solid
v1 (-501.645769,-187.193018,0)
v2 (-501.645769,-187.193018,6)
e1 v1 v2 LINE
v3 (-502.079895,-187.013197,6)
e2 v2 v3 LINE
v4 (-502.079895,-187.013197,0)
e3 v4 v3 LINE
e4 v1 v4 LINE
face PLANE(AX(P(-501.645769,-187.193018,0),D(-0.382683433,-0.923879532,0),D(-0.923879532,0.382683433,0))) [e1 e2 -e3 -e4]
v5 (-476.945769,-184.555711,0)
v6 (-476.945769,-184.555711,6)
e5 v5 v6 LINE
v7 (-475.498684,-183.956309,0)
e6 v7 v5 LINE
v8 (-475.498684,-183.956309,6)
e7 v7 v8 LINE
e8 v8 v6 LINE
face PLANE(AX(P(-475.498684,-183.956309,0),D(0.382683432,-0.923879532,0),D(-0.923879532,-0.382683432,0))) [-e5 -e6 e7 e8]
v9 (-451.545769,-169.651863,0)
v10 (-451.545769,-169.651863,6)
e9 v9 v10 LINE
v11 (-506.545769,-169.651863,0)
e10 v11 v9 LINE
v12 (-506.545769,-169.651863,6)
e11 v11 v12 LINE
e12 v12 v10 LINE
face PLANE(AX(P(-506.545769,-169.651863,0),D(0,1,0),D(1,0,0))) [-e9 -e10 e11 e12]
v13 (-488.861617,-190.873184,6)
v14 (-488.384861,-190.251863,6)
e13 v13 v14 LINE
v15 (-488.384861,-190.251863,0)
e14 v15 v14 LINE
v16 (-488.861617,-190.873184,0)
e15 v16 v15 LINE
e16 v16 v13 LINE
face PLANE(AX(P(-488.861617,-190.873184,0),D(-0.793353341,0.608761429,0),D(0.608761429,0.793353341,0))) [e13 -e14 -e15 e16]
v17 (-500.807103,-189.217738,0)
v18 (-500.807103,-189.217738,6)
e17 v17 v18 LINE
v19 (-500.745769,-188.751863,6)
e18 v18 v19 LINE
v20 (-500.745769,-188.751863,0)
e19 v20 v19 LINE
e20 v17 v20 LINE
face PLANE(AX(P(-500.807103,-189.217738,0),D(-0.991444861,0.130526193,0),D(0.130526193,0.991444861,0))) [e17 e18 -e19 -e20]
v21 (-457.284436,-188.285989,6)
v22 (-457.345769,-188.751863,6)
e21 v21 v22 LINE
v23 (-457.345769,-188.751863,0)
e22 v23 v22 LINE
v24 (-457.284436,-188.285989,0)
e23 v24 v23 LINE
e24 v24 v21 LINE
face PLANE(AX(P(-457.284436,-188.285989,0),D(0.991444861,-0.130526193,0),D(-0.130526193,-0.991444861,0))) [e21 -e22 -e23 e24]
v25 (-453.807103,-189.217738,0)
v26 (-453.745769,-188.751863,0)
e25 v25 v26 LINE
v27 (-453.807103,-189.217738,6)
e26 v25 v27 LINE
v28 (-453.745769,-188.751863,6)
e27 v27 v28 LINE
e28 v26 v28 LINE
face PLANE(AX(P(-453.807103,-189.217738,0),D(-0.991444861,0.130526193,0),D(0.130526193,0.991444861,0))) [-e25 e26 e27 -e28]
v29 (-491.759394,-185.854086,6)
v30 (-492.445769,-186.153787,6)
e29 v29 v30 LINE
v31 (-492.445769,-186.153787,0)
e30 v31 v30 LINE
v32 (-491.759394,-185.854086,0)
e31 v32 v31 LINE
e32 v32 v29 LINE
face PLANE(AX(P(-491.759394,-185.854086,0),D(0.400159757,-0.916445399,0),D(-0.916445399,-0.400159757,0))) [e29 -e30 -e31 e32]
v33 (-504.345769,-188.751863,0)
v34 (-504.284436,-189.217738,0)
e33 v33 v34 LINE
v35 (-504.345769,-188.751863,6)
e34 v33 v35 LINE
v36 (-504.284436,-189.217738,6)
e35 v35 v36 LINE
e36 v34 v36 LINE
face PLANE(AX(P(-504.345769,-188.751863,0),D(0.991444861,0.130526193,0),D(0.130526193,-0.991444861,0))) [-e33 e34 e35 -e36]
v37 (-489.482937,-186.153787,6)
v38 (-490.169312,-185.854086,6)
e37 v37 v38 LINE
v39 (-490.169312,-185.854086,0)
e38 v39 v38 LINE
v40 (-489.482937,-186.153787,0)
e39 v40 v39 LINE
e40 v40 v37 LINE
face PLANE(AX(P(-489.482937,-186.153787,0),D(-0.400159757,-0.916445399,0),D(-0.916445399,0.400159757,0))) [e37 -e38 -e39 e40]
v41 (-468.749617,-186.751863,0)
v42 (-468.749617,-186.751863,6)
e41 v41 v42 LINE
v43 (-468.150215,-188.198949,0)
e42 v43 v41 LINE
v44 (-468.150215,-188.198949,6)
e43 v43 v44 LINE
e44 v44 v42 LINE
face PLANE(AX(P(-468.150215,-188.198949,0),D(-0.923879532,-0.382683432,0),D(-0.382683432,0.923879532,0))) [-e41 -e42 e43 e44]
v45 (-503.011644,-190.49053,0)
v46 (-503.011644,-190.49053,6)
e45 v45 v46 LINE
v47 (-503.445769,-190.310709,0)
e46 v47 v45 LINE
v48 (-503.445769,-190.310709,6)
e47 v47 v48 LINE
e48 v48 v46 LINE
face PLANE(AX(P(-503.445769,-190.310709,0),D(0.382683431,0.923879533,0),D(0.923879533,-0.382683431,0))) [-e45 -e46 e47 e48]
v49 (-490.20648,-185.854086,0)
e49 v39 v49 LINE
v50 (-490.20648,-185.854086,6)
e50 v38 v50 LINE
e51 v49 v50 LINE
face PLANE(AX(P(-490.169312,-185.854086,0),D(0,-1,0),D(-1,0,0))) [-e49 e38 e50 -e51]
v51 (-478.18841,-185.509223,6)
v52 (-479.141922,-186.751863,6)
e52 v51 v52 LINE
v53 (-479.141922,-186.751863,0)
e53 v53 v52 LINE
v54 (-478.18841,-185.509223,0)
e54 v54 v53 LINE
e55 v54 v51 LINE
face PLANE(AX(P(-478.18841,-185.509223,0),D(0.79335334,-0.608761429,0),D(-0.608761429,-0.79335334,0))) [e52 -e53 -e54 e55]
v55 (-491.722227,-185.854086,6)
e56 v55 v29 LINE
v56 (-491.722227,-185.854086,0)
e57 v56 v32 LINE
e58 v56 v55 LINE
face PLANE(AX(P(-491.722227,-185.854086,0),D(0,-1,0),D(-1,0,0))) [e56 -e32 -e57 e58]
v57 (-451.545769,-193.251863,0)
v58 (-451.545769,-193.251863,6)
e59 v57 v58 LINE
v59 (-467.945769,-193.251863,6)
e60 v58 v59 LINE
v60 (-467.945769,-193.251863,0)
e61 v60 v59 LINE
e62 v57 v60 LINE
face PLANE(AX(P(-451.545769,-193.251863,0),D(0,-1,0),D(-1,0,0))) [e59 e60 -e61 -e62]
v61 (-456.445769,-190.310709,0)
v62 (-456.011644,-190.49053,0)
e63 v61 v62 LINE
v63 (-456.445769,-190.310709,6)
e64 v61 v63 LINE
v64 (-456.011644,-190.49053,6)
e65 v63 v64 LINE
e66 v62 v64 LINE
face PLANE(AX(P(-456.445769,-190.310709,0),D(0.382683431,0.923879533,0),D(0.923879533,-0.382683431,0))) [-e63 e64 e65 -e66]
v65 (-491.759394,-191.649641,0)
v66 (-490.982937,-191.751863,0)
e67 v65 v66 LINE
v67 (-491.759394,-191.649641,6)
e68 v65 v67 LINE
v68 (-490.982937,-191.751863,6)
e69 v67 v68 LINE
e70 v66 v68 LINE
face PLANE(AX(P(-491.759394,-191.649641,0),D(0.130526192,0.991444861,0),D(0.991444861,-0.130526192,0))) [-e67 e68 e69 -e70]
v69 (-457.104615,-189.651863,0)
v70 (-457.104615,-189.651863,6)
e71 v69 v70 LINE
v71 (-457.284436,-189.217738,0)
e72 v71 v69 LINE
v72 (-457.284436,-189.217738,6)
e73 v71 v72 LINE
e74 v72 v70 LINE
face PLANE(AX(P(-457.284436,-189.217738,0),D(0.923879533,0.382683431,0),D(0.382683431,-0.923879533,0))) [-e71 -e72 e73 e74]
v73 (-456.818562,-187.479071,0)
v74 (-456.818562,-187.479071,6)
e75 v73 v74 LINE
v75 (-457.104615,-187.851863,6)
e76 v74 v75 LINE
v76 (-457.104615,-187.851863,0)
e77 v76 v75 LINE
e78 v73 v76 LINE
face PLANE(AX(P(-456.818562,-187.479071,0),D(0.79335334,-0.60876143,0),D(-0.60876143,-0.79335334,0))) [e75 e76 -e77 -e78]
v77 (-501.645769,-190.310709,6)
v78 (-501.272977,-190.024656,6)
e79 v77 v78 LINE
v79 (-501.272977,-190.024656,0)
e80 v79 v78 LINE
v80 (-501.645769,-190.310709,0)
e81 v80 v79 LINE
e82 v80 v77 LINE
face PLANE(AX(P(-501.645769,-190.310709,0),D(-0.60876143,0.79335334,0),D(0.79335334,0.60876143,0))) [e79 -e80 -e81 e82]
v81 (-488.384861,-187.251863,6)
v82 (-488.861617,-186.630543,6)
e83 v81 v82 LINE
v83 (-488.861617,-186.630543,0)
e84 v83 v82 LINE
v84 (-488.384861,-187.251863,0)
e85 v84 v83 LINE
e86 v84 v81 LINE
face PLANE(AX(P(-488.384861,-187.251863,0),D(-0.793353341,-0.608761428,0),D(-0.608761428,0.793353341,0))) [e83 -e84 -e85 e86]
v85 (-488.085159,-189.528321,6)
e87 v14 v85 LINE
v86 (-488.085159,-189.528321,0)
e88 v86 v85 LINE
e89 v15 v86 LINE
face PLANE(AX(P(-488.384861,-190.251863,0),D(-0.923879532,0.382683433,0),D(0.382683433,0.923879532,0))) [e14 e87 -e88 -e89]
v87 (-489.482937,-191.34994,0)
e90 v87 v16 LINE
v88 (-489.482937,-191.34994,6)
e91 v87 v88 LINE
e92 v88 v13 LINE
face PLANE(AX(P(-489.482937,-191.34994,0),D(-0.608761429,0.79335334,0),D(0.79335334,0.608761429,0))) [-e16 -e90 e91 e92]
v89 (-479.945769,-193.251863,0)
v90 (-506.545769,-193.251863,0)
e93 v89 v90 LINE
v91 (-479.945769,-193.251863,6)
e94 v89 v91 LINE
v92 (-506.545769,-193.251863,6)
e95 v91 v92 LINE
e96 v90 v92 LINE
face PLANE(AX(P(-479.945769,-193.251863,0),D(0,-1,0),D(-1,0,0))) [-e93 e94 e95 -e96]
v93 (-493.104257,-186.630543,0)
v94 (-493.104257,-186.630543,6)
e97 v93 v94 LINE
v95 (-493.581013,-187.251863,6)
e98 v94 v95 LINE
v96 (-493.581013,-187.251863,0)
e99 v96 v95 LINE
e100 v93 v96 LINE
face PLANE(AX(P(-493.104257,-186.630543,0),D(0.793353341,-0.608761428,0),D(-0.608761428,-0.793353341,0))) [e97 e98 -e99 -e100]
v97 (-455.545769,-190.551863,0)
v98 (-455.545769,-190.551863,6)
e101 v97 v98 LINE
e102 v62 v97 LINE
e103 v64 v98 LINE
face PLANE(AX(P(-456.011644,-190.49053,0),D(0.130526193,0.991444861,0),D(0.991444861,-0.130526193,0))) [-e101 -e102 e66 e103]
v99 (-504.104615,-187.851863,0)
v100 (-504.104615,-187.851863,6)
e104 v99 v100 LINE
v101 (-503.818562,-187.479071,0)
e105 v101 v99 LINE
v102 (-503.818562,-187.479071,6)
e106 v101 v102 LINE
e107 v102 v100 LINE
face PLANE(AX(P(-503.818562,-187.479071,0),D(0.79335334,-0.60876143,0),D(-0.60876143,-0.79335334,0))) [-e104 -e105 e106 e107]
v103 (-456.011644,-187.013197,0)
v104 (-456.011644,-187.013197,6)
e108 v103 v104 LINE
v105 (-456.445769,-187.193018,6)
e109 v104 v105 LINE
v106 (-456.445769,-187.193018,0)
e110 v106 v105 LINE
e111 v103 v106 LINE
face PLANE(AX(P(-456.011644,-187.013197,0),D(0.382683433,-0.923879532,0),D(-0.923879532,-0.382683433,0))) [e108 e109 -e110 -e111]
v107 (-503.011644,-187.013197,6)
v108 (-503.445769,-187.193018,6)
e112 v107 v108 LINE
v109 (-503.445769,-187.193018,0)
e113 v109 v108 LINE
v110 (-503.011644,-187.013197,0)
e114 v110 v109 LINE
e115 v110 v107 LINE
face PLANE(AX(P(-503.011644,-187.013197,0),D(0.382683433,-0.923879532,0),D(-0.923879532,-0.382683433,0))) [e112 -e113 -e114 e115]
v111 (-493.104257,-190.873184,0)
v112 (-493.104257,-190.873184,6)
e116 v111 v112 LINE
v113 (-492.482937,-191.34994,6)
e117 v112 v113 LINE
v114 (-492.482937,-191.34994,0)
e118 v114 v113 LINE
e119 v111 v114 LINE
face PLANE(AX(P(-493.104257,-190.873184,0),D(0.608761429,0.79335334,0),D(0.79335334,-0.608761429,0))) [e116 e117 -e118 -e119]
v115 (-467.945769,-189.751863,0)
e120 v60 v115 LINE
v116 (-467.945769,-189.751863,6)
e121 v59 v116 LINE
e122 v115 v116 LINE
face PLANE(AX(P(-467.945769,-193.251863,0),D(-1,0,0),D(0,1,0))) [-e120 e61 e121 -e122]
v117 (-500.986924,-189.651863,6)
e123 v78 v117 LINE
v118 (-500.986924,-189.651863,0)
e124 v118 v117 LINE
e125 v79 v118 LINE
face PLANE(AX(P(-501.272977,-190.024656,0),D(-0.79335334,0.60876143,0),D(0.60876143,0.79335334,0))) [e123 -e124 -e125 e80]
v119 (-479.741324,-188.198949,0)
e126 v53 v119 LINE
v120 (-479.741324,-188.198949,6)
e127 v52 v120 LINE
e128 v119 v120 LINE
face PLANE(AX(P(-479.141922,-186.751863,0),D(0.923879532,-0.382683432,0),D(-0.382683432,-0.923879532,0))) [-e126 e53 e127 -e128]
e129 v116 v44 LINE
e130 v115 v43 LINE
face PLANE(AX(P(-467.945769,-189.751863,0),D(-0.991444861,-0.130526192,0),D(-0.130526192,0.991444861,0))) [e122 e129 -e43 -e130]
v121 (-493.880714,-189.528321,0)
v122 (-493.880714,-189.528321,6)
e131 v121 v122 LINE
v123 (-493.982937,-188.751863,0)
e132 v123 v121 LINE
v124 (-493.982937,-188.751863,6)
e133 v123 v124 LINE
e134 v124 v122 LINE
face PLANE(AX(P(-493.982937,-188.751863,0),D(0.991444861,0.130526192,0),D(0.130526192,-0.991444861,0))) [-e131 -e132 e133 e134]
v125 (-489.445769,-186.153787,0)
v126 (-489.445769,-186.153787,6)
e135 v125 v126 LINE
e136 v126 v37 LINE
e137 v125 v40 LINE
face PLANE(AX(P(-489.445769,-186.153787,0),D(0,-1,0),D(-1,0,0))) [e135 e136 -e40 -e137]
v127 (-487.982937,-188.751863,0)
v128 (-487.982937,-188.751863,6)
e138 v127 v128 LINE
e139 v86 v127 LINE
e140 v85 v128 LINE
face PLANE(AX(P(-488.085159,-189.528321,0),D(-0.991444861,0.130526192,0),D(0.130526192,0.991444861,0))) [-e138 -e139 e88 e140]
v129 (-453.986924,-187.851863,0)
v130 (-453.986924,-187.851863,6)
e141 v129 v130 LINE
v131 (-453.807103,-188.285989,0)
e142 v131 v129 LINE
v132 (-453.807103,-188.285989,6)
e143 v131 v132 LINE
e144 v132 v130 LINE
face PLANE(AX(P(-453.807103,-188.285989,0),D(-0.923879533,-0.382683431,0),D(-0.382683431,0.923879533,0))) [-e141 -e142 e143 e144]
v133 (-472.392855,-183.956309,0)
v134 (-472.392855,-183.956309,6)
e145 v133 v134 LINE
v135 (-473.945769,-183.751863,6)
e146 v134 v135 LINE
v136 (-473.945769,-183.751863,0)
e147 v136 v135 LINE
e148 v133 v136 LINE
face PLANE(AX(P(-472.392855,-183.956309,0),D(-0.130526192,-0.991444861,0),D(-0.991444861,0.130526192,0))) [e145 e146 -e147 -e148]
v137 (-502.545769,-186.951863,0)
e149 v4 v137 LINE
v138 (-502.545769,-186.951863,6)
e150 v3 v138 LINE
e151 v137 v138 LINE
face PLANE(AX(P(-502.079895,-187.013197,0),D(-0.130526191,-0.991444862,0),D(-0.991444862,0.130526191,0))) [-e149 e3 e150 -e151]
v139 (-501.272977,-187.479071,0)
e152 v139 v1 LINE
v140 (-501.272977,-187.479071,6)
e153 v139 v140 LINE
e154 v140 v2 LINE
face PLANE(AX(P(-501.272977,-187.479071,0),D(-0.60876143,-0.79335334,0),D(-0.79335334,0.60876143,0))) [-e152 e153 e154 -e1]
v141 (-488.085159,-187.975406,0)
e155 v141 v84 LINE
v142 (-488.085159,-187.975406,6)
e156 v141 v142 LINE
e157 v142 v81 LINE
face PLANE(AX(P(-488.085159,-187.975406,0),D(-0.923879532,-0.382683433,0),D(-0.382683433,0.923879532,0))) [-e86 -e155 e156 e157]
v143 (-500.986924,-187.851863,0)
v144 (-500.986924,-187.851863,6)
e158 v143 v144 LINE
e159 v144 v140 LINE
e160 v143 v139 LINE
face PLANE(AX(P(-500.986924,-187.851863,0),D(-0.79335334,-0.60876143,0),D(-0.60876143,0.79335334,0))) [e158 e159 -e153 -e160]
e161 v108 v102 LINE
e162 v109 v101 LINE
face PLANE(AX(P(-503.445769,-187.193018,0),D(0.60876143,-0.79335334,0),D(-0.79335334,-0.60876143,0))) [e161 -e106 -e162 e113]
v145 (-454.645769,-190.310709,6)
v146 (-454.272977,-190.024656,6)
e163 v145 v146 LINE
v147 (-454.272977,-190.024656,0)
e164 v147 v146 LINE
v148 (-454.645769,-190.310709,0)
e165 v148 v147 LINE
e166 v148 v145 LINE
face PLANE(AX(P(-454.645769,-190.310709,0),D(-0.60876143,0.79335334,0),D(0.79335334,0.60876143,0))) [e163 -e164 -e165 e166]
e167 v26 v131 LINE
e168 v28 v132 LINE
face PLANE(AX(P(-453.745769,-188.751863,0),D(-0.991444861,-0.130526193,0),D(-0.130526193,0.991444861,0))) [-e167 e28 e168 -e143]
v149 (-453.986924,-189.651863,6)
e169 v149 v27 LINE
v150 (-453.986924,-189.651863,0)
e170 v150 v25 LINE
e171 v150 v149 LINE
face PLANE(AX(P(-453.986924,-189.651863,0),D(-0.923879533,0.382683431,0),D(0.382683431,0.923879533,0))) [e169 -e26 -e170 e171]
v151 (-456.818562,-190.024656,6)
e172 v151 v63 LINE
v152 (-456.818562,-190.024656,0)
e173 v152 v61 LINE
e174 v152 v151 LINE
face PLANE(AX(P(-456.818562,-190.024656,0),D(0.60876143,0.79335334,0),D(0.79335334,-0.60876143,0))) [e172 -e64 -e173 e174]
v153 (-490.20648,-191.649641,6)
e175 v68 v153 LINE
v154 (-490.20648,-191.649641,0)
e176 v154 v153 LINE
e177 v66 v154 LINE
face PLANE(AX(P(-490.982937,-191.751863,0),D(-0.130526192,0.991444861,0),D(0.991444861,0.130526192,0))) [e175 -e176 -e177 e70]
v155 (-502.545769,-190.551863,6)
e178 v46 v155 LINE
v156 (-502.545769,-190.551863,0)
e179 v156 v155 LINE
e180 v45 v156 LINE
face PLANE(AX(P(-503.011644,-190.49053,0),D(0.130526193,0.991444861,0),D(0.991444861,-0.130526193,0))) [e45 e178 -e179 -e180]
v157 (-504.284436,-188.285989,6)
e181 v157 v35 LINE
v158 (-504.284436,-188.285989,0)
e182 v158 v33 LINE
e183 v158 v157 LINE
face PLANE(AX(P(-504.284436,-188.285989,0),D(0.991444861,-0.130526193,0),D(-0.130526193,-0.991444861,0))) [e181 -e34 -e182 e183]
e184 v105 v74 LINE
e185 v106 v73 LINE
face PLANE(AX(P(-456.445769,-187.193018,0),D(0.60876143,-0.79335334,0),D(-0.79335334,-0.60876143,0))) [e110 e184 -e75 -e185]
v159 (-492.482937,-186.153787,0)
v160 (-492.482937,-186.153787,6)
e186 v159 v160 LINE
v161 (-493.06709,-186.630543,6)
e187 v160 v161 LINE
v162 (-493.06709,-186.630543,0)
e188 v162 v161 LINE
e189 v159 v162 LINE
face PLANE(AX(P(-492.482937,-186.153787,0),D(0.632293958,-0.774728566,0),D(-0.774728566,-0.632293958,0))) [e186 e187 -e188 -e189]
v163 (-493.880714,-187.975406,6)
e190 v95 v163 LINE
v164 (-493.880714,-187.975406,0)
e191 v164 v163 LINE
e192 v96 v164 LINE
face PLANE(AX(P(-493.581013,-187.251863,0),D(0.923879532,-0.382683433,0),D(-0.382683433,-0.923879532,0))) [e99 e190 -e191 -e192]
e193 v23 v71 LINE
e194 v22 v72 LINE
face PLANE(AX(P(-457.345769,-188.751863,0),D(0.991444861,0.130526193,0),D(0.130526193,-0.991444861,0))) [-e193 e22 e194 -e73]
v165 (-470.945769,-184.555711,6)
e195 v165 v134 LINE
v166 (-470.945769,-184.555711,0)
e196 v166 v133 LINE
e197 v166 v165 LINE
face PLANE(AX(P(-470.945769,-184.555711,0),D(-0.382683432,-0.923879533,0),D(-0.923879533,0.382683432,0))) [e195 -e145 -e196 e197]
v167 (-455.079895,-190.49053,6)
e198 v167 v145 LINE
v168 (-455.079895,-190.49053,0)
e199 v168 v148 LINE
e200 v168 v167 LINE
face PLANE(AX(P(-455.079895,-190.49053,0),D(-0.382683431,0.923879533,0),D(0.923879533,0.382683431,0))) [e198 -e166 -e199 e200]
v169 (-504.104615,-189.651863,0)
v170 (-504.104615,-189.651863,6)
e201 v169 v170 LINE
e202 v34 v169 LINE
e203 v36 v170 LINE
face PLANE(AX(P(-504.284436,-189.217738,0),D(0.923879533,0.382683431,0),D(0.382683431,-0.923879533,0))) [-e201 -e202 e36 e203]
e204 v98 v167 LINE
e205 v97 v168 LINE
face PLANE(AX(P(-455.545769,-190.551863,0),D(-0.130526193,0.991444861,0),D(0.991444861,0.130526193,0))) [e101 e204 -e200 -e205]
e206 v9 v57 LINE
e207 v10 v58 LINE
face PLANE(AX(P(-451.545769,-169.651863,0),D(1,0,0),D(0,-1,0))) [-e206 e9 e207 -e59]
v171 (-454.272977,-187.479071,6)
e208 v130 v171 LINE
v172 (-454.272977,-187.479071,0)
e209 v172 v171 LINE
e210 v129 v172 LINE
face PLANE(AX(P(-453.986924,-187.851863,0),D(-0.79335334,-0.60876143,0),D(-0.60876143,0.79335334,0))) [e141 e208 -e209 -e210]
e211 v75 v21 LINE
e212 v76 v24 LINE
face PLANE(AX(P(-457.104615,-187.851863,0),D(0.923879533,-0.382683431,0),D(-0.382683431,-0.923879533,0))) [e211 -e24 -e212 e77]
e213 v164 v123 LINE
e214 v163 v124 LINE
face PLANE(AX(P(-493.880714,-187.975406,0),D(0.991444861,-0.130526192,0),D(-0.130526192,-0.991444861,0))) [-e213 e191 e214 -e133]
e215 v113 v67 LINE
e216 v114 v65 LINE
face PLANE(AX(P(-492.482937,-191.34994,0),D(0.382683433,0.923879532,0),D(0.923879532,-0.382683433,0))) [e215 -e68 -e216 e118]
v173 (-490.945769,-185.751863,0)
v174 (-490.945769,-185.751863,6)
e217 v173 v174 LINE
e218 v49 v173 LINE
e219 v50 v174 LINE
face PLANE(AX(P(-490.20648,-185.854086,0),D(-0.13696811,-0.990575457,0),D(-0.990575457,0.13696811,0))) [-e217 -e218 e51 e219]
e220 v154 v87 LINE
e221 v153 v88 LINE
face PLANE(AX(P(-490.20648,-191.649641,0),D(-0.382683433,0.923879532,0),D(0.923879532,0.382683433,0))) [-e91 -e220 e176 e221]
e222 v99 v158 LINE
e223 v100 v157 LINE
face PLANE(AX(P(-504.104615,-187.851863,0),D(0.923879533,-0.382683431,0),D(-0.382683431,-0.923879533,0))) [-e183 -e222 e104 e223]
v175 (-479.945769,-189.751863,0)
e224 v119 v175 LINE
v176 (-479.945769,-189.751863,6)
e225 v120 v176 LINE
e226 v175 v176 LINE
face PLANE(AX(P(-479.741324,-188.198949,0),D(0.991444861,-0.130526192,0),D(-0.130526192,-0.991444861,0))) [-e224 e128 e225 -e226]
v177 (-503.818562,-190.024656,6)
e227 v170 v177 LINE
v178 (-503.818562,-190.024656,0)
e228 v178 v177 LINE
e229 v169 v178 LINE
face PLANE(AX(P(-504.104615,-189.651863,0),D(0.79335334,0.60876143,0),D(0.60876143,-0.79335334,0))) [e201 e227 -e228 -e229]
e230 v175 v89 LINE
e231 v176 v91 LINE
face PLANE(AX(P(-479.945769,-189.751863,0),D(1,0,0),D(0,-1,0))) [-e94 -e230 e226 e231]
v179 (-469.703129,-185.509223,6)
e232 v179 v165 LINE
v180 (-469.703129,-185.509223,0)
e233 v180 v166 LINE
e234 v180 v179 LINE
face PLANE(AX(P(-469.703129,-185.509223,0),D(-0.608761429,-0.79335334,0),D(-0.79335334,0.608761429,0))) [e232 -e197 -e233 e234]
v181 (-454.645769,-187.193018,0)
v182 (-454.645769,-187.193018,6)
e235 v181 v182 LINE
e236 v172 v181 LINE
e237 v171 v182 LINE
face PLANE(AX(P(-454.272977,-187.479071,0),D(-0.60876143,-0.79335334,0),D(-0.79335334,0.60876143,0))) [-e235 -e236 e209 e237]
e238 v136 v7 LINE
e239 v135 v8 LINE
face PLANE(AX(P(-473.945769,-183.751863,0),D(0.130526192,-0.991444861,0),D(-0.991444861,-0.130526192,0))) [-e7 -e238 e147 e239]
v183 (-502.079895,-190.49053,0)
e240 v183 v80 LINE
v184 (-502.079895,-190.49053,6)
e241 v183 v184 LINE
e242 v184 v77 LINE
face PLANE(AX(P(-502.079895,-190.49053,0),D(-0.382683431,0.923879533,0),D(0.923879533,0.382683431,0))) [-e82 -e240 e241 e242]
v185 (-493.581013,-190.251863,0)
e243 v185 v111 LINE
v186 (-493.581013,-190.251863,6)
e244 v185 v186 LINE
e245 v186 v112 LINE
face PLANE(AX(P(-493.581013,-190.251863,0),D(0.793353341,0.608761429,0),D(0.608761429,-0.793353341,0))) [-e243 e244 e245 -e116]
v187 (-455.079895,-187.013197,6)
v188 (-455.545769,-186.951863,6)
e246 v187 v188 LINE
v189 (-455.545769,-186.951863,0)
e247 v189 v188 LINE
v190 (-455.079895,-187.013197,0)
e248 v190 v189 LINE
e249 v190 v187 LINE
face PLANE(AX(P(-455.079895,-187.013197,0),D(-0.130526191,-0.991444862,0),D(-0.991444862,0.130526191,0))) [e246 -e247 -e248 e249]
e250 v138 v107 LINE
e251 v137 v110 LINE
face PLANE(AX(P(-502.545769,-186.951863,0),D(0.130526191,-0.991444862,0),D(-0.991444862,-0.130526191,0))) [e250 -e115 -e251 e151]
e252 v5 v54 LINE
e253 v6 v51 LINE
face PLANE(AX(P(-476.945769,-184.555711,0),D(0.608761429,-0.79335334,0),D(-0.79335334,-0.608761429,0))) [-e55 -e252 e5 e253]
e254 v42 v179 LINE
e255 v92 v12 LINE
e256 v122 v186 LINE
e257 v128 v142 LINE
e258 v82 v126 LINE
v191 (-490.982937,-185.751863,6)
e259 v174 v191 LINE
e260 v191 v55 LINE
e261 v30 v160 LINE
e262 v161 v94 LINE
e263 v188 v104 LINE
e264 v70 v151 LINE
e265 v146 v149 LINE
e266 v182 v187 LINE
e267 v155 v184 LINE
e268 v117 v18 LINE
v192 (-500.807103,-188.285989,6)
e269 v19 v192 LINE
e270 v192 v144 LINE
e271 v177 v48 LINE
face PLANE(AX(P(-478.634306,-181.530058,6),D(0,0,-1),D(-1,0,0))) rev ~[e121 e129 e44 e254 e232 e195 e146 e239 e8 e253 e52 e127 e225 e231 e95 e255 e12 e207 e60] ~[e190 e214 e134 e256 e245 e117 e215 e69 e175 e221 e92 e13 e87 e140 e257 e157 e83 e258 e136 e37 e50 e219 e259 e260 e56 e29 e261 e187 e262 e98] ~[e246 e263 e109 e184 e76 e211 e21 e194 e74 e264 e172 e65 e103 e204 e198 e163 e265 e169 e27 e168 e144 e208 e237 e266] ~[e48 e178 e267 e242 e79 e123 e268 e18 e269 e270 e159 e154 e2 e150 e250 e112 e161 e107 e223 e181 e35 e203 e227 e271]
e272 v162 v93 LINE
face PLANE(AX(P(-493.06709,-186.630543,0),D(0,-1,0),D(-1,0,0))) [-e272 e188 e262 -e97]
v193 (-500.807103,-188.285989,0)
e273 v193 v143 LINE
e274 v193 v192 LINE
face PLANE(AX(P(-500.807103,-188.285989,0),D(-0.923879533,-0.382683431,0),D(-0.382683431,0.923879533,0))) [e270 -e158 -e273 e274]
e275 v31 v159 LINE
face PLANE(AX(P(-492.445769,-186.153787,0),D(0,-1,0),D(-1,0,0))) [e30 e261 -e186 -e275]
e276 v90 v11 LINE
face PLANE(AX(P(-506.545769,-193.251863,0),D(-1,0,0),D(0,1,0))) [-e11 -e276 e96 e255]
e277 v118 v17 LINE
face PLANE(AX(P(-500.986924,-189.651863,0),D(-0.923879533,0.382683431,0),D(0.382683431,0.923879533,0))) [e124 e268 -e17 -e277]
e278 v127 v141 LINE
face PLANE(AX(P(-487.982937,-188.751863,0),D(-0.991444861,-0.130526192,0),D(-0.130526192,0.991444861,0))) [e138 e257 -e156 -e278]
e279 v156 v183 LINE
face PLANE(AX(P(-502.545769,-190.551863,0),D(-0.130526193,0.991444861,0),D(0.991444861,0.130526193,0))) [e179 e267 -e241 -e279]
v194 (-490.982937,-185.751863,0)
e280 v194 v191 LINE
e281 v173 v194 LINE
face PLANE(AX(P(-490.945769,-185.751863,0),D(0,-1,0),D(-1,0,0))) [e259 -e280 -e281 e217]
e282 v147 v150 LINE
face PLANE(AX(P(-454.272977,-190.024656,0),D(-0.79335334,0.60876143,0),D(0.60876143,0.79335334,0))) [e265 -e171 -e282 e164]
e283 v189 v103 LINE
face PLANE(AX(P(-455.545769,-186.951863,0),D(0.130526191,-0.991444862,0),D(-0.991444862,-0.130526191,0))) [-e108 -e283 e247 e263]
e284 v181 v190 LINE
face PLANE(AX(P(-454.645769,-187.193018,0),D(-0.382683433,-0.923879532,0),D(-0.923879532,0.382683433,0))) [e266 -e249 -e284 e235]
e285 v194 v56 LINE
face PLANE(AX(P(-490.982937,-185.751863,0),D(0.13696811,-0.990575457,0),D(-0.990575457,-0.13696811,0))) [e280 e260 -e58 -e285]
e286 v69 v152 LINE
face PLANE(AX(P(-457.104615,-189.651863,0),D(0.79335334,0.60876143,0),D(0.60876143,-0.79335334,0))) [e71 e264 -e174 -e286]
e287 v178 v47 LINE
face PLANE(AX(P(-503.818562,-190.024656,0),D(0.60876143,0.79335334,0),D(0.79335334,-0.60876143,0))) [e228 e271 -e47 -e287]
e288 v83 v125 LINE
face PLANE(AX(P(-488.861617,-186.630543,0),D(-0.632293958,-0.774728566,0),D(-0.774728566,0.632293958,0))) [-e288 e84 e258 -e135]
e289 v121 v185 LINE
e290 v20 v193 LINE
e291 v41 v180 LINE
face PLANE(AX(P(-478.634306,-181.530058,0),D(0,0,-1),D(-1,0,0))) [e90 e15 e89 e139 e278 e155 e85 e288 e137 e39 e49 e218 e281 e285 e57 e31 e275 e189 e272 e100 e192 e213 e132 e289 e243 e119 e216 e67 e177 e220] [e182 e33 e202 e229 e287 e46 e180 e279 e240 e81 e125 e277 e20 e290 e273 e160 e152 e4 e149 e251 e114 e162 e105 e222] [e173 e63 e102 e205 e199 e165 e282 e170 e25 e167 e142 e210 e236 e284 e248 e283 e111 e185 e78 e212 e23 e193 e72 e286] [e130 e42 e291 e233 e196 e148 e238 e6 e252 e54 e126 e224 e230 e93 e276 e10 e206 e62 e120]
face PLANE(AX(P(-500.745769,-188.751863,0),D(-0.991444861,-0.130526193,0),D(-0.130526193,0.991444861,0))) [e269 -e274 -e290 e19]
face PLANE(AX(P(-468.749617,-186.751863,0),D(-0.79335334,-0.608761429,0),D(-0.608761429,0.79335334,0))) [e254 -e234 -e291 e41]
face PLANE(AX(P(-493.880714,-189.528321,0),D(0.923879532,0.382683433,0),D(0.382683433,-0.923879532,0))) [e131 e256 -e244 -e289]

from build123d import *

# Parameters (mm, degrees)
BOSS_EXTRUDE1_DEPTH = 6


with BuildPart() as part:
    # Sketch1 → Boss-Extrude1 (new body)
    with BuildSketch(Plane.XY):
        Polygon((-506.545769475, -193.251863484), (-506.545769475, -169.651863484), (-451.545769475, -169.651863484), (-451.545769475, -193.251863484), (-467.945769475, -193.251863484), (-467.945769475, -189.751863484), (-468.150214517, -188.198949213), (-468.749617052, -186.751863484), (-469.703128788, -185.509222797), (-470.945769475, -184.555711061), (-472.392855205, -183.956308526), (-473.945769475, -183.751863484), (-475.498683746, -183.956308526), (-476.945769475, -184.555711061), (-478.188410162, -185.509222797), (-479.141921898, -186.751863484), (-479.741324433, -188.198949213), (-479.945769475, -189.751863484), (-479.945769475, -193.251863484), align=None)
        Polygon((-455.545769475, -190.551863484), (-455.079895194, -190.490529971), (-454.645769475, -190.310709211), (-454.272977269, -190.02465569), (-453.986923748, -189.651863484), (-453.807102988, -189.217737765), (-453.745769475, -188.751863484), (-453.807102988, -188.285989203), (-453.986923748, -187.851863484), (-454.272977269, -187.479071278), (-454.645769475, -187.193017757), (-455.079895194, -187.013196996), (-455.545769475, -186.951863484), (-456.011643756, -187.013196996), (-456.445769475, -187.193017757), (-456.818561681, -187.479071278), (-457.104615202, -187.851863484), (-457.284435962, -188.285989203), (-457.345769475, -188.751863484), (-457.284435962, -189.217737765), (-457.104615202, -189.651863484), (-456.818561681, -190.02465569), (-456.445769475, -190.310709211), (-456.011643756, -190.490529971), align=None, mode=Mode.SUBTRACT)
        Polygon((-502.079895194, -190.490529971), (-501.645769475, -190.310709211), (-501.272977269, -190.02465569), (-500.986923748, -189.651863484), (-500.807102988, -189.217737765), (-500.745769475, -188.751863484), (-500.807102988, -188.285989203), (-500.986923748, -187.851863484), (-501.272977269, -187.479071278), (-501.645769475, -187.193017757), (-502.079895194, -187.013196996), (-502.545769475, -186.951863484), (-503.011643756, -187.013196996), (-503.445769475, -187.193017757), (-503.818561681, -187.479071278), (-504.104615202, -187.851863484), (-504.284435962, -188.285989203), (-504.345769475, -188.751863484), (-504.284435962, -189.217737765), (-504.104615202, -189.651863484), (-503.818561681, -190.02465569), (-503.445769475, -190.310709211), (-503.011643756, -190.490529971), (-502.545769475, -190.551863484), align=None, mode=Mode.SUBTRACT)
        Polygon((-492.445769475, -186.153787272), (-492.482936855, -186.153787272), (-493.067089819, -186.63054314), (-493.104257199, -186.63054314), (-493.581013066, -187.251863484), (-493.880714334, -187.975406348), (-493.982936855, -188.751863484), (-493.880714334, -189.528320619), (-493.581013066, -190.251863484), (-493.104257199, -190.873183827), (-492.482936855, -191.349939695), (-491.75939399, -191.649640963), (-490.982936855, -191.751863484), (-490.20647972, -191.649640963), (-489.482936855, -191.349939695), (-488.861616511, -190.873183827), (-488.384860644, -190.251863484), (-488.085159376, -189.528320619), (-487.982936855, -188.751863484), (-488.085159376, -187.975406348), (-488.384860644, -187.251863484), (-488.861616511, -186.63054314), (-489.445769475, -186.153787272), (-489.482936855, -186.153787272), (-490.16931234, -185.854086005), (-490.20647972, -185.854086005), (-490.945769475, -185.751863484), (-490.982936855, -185.751863484), (-491.72222661, -185.854086005), (-491.75939399, -185.854086005), align=None, mode=Mode.SUBTRACT)
    extrude(amount=BOSS_EXTRUDE1_DEPTH)


solid = part.part
